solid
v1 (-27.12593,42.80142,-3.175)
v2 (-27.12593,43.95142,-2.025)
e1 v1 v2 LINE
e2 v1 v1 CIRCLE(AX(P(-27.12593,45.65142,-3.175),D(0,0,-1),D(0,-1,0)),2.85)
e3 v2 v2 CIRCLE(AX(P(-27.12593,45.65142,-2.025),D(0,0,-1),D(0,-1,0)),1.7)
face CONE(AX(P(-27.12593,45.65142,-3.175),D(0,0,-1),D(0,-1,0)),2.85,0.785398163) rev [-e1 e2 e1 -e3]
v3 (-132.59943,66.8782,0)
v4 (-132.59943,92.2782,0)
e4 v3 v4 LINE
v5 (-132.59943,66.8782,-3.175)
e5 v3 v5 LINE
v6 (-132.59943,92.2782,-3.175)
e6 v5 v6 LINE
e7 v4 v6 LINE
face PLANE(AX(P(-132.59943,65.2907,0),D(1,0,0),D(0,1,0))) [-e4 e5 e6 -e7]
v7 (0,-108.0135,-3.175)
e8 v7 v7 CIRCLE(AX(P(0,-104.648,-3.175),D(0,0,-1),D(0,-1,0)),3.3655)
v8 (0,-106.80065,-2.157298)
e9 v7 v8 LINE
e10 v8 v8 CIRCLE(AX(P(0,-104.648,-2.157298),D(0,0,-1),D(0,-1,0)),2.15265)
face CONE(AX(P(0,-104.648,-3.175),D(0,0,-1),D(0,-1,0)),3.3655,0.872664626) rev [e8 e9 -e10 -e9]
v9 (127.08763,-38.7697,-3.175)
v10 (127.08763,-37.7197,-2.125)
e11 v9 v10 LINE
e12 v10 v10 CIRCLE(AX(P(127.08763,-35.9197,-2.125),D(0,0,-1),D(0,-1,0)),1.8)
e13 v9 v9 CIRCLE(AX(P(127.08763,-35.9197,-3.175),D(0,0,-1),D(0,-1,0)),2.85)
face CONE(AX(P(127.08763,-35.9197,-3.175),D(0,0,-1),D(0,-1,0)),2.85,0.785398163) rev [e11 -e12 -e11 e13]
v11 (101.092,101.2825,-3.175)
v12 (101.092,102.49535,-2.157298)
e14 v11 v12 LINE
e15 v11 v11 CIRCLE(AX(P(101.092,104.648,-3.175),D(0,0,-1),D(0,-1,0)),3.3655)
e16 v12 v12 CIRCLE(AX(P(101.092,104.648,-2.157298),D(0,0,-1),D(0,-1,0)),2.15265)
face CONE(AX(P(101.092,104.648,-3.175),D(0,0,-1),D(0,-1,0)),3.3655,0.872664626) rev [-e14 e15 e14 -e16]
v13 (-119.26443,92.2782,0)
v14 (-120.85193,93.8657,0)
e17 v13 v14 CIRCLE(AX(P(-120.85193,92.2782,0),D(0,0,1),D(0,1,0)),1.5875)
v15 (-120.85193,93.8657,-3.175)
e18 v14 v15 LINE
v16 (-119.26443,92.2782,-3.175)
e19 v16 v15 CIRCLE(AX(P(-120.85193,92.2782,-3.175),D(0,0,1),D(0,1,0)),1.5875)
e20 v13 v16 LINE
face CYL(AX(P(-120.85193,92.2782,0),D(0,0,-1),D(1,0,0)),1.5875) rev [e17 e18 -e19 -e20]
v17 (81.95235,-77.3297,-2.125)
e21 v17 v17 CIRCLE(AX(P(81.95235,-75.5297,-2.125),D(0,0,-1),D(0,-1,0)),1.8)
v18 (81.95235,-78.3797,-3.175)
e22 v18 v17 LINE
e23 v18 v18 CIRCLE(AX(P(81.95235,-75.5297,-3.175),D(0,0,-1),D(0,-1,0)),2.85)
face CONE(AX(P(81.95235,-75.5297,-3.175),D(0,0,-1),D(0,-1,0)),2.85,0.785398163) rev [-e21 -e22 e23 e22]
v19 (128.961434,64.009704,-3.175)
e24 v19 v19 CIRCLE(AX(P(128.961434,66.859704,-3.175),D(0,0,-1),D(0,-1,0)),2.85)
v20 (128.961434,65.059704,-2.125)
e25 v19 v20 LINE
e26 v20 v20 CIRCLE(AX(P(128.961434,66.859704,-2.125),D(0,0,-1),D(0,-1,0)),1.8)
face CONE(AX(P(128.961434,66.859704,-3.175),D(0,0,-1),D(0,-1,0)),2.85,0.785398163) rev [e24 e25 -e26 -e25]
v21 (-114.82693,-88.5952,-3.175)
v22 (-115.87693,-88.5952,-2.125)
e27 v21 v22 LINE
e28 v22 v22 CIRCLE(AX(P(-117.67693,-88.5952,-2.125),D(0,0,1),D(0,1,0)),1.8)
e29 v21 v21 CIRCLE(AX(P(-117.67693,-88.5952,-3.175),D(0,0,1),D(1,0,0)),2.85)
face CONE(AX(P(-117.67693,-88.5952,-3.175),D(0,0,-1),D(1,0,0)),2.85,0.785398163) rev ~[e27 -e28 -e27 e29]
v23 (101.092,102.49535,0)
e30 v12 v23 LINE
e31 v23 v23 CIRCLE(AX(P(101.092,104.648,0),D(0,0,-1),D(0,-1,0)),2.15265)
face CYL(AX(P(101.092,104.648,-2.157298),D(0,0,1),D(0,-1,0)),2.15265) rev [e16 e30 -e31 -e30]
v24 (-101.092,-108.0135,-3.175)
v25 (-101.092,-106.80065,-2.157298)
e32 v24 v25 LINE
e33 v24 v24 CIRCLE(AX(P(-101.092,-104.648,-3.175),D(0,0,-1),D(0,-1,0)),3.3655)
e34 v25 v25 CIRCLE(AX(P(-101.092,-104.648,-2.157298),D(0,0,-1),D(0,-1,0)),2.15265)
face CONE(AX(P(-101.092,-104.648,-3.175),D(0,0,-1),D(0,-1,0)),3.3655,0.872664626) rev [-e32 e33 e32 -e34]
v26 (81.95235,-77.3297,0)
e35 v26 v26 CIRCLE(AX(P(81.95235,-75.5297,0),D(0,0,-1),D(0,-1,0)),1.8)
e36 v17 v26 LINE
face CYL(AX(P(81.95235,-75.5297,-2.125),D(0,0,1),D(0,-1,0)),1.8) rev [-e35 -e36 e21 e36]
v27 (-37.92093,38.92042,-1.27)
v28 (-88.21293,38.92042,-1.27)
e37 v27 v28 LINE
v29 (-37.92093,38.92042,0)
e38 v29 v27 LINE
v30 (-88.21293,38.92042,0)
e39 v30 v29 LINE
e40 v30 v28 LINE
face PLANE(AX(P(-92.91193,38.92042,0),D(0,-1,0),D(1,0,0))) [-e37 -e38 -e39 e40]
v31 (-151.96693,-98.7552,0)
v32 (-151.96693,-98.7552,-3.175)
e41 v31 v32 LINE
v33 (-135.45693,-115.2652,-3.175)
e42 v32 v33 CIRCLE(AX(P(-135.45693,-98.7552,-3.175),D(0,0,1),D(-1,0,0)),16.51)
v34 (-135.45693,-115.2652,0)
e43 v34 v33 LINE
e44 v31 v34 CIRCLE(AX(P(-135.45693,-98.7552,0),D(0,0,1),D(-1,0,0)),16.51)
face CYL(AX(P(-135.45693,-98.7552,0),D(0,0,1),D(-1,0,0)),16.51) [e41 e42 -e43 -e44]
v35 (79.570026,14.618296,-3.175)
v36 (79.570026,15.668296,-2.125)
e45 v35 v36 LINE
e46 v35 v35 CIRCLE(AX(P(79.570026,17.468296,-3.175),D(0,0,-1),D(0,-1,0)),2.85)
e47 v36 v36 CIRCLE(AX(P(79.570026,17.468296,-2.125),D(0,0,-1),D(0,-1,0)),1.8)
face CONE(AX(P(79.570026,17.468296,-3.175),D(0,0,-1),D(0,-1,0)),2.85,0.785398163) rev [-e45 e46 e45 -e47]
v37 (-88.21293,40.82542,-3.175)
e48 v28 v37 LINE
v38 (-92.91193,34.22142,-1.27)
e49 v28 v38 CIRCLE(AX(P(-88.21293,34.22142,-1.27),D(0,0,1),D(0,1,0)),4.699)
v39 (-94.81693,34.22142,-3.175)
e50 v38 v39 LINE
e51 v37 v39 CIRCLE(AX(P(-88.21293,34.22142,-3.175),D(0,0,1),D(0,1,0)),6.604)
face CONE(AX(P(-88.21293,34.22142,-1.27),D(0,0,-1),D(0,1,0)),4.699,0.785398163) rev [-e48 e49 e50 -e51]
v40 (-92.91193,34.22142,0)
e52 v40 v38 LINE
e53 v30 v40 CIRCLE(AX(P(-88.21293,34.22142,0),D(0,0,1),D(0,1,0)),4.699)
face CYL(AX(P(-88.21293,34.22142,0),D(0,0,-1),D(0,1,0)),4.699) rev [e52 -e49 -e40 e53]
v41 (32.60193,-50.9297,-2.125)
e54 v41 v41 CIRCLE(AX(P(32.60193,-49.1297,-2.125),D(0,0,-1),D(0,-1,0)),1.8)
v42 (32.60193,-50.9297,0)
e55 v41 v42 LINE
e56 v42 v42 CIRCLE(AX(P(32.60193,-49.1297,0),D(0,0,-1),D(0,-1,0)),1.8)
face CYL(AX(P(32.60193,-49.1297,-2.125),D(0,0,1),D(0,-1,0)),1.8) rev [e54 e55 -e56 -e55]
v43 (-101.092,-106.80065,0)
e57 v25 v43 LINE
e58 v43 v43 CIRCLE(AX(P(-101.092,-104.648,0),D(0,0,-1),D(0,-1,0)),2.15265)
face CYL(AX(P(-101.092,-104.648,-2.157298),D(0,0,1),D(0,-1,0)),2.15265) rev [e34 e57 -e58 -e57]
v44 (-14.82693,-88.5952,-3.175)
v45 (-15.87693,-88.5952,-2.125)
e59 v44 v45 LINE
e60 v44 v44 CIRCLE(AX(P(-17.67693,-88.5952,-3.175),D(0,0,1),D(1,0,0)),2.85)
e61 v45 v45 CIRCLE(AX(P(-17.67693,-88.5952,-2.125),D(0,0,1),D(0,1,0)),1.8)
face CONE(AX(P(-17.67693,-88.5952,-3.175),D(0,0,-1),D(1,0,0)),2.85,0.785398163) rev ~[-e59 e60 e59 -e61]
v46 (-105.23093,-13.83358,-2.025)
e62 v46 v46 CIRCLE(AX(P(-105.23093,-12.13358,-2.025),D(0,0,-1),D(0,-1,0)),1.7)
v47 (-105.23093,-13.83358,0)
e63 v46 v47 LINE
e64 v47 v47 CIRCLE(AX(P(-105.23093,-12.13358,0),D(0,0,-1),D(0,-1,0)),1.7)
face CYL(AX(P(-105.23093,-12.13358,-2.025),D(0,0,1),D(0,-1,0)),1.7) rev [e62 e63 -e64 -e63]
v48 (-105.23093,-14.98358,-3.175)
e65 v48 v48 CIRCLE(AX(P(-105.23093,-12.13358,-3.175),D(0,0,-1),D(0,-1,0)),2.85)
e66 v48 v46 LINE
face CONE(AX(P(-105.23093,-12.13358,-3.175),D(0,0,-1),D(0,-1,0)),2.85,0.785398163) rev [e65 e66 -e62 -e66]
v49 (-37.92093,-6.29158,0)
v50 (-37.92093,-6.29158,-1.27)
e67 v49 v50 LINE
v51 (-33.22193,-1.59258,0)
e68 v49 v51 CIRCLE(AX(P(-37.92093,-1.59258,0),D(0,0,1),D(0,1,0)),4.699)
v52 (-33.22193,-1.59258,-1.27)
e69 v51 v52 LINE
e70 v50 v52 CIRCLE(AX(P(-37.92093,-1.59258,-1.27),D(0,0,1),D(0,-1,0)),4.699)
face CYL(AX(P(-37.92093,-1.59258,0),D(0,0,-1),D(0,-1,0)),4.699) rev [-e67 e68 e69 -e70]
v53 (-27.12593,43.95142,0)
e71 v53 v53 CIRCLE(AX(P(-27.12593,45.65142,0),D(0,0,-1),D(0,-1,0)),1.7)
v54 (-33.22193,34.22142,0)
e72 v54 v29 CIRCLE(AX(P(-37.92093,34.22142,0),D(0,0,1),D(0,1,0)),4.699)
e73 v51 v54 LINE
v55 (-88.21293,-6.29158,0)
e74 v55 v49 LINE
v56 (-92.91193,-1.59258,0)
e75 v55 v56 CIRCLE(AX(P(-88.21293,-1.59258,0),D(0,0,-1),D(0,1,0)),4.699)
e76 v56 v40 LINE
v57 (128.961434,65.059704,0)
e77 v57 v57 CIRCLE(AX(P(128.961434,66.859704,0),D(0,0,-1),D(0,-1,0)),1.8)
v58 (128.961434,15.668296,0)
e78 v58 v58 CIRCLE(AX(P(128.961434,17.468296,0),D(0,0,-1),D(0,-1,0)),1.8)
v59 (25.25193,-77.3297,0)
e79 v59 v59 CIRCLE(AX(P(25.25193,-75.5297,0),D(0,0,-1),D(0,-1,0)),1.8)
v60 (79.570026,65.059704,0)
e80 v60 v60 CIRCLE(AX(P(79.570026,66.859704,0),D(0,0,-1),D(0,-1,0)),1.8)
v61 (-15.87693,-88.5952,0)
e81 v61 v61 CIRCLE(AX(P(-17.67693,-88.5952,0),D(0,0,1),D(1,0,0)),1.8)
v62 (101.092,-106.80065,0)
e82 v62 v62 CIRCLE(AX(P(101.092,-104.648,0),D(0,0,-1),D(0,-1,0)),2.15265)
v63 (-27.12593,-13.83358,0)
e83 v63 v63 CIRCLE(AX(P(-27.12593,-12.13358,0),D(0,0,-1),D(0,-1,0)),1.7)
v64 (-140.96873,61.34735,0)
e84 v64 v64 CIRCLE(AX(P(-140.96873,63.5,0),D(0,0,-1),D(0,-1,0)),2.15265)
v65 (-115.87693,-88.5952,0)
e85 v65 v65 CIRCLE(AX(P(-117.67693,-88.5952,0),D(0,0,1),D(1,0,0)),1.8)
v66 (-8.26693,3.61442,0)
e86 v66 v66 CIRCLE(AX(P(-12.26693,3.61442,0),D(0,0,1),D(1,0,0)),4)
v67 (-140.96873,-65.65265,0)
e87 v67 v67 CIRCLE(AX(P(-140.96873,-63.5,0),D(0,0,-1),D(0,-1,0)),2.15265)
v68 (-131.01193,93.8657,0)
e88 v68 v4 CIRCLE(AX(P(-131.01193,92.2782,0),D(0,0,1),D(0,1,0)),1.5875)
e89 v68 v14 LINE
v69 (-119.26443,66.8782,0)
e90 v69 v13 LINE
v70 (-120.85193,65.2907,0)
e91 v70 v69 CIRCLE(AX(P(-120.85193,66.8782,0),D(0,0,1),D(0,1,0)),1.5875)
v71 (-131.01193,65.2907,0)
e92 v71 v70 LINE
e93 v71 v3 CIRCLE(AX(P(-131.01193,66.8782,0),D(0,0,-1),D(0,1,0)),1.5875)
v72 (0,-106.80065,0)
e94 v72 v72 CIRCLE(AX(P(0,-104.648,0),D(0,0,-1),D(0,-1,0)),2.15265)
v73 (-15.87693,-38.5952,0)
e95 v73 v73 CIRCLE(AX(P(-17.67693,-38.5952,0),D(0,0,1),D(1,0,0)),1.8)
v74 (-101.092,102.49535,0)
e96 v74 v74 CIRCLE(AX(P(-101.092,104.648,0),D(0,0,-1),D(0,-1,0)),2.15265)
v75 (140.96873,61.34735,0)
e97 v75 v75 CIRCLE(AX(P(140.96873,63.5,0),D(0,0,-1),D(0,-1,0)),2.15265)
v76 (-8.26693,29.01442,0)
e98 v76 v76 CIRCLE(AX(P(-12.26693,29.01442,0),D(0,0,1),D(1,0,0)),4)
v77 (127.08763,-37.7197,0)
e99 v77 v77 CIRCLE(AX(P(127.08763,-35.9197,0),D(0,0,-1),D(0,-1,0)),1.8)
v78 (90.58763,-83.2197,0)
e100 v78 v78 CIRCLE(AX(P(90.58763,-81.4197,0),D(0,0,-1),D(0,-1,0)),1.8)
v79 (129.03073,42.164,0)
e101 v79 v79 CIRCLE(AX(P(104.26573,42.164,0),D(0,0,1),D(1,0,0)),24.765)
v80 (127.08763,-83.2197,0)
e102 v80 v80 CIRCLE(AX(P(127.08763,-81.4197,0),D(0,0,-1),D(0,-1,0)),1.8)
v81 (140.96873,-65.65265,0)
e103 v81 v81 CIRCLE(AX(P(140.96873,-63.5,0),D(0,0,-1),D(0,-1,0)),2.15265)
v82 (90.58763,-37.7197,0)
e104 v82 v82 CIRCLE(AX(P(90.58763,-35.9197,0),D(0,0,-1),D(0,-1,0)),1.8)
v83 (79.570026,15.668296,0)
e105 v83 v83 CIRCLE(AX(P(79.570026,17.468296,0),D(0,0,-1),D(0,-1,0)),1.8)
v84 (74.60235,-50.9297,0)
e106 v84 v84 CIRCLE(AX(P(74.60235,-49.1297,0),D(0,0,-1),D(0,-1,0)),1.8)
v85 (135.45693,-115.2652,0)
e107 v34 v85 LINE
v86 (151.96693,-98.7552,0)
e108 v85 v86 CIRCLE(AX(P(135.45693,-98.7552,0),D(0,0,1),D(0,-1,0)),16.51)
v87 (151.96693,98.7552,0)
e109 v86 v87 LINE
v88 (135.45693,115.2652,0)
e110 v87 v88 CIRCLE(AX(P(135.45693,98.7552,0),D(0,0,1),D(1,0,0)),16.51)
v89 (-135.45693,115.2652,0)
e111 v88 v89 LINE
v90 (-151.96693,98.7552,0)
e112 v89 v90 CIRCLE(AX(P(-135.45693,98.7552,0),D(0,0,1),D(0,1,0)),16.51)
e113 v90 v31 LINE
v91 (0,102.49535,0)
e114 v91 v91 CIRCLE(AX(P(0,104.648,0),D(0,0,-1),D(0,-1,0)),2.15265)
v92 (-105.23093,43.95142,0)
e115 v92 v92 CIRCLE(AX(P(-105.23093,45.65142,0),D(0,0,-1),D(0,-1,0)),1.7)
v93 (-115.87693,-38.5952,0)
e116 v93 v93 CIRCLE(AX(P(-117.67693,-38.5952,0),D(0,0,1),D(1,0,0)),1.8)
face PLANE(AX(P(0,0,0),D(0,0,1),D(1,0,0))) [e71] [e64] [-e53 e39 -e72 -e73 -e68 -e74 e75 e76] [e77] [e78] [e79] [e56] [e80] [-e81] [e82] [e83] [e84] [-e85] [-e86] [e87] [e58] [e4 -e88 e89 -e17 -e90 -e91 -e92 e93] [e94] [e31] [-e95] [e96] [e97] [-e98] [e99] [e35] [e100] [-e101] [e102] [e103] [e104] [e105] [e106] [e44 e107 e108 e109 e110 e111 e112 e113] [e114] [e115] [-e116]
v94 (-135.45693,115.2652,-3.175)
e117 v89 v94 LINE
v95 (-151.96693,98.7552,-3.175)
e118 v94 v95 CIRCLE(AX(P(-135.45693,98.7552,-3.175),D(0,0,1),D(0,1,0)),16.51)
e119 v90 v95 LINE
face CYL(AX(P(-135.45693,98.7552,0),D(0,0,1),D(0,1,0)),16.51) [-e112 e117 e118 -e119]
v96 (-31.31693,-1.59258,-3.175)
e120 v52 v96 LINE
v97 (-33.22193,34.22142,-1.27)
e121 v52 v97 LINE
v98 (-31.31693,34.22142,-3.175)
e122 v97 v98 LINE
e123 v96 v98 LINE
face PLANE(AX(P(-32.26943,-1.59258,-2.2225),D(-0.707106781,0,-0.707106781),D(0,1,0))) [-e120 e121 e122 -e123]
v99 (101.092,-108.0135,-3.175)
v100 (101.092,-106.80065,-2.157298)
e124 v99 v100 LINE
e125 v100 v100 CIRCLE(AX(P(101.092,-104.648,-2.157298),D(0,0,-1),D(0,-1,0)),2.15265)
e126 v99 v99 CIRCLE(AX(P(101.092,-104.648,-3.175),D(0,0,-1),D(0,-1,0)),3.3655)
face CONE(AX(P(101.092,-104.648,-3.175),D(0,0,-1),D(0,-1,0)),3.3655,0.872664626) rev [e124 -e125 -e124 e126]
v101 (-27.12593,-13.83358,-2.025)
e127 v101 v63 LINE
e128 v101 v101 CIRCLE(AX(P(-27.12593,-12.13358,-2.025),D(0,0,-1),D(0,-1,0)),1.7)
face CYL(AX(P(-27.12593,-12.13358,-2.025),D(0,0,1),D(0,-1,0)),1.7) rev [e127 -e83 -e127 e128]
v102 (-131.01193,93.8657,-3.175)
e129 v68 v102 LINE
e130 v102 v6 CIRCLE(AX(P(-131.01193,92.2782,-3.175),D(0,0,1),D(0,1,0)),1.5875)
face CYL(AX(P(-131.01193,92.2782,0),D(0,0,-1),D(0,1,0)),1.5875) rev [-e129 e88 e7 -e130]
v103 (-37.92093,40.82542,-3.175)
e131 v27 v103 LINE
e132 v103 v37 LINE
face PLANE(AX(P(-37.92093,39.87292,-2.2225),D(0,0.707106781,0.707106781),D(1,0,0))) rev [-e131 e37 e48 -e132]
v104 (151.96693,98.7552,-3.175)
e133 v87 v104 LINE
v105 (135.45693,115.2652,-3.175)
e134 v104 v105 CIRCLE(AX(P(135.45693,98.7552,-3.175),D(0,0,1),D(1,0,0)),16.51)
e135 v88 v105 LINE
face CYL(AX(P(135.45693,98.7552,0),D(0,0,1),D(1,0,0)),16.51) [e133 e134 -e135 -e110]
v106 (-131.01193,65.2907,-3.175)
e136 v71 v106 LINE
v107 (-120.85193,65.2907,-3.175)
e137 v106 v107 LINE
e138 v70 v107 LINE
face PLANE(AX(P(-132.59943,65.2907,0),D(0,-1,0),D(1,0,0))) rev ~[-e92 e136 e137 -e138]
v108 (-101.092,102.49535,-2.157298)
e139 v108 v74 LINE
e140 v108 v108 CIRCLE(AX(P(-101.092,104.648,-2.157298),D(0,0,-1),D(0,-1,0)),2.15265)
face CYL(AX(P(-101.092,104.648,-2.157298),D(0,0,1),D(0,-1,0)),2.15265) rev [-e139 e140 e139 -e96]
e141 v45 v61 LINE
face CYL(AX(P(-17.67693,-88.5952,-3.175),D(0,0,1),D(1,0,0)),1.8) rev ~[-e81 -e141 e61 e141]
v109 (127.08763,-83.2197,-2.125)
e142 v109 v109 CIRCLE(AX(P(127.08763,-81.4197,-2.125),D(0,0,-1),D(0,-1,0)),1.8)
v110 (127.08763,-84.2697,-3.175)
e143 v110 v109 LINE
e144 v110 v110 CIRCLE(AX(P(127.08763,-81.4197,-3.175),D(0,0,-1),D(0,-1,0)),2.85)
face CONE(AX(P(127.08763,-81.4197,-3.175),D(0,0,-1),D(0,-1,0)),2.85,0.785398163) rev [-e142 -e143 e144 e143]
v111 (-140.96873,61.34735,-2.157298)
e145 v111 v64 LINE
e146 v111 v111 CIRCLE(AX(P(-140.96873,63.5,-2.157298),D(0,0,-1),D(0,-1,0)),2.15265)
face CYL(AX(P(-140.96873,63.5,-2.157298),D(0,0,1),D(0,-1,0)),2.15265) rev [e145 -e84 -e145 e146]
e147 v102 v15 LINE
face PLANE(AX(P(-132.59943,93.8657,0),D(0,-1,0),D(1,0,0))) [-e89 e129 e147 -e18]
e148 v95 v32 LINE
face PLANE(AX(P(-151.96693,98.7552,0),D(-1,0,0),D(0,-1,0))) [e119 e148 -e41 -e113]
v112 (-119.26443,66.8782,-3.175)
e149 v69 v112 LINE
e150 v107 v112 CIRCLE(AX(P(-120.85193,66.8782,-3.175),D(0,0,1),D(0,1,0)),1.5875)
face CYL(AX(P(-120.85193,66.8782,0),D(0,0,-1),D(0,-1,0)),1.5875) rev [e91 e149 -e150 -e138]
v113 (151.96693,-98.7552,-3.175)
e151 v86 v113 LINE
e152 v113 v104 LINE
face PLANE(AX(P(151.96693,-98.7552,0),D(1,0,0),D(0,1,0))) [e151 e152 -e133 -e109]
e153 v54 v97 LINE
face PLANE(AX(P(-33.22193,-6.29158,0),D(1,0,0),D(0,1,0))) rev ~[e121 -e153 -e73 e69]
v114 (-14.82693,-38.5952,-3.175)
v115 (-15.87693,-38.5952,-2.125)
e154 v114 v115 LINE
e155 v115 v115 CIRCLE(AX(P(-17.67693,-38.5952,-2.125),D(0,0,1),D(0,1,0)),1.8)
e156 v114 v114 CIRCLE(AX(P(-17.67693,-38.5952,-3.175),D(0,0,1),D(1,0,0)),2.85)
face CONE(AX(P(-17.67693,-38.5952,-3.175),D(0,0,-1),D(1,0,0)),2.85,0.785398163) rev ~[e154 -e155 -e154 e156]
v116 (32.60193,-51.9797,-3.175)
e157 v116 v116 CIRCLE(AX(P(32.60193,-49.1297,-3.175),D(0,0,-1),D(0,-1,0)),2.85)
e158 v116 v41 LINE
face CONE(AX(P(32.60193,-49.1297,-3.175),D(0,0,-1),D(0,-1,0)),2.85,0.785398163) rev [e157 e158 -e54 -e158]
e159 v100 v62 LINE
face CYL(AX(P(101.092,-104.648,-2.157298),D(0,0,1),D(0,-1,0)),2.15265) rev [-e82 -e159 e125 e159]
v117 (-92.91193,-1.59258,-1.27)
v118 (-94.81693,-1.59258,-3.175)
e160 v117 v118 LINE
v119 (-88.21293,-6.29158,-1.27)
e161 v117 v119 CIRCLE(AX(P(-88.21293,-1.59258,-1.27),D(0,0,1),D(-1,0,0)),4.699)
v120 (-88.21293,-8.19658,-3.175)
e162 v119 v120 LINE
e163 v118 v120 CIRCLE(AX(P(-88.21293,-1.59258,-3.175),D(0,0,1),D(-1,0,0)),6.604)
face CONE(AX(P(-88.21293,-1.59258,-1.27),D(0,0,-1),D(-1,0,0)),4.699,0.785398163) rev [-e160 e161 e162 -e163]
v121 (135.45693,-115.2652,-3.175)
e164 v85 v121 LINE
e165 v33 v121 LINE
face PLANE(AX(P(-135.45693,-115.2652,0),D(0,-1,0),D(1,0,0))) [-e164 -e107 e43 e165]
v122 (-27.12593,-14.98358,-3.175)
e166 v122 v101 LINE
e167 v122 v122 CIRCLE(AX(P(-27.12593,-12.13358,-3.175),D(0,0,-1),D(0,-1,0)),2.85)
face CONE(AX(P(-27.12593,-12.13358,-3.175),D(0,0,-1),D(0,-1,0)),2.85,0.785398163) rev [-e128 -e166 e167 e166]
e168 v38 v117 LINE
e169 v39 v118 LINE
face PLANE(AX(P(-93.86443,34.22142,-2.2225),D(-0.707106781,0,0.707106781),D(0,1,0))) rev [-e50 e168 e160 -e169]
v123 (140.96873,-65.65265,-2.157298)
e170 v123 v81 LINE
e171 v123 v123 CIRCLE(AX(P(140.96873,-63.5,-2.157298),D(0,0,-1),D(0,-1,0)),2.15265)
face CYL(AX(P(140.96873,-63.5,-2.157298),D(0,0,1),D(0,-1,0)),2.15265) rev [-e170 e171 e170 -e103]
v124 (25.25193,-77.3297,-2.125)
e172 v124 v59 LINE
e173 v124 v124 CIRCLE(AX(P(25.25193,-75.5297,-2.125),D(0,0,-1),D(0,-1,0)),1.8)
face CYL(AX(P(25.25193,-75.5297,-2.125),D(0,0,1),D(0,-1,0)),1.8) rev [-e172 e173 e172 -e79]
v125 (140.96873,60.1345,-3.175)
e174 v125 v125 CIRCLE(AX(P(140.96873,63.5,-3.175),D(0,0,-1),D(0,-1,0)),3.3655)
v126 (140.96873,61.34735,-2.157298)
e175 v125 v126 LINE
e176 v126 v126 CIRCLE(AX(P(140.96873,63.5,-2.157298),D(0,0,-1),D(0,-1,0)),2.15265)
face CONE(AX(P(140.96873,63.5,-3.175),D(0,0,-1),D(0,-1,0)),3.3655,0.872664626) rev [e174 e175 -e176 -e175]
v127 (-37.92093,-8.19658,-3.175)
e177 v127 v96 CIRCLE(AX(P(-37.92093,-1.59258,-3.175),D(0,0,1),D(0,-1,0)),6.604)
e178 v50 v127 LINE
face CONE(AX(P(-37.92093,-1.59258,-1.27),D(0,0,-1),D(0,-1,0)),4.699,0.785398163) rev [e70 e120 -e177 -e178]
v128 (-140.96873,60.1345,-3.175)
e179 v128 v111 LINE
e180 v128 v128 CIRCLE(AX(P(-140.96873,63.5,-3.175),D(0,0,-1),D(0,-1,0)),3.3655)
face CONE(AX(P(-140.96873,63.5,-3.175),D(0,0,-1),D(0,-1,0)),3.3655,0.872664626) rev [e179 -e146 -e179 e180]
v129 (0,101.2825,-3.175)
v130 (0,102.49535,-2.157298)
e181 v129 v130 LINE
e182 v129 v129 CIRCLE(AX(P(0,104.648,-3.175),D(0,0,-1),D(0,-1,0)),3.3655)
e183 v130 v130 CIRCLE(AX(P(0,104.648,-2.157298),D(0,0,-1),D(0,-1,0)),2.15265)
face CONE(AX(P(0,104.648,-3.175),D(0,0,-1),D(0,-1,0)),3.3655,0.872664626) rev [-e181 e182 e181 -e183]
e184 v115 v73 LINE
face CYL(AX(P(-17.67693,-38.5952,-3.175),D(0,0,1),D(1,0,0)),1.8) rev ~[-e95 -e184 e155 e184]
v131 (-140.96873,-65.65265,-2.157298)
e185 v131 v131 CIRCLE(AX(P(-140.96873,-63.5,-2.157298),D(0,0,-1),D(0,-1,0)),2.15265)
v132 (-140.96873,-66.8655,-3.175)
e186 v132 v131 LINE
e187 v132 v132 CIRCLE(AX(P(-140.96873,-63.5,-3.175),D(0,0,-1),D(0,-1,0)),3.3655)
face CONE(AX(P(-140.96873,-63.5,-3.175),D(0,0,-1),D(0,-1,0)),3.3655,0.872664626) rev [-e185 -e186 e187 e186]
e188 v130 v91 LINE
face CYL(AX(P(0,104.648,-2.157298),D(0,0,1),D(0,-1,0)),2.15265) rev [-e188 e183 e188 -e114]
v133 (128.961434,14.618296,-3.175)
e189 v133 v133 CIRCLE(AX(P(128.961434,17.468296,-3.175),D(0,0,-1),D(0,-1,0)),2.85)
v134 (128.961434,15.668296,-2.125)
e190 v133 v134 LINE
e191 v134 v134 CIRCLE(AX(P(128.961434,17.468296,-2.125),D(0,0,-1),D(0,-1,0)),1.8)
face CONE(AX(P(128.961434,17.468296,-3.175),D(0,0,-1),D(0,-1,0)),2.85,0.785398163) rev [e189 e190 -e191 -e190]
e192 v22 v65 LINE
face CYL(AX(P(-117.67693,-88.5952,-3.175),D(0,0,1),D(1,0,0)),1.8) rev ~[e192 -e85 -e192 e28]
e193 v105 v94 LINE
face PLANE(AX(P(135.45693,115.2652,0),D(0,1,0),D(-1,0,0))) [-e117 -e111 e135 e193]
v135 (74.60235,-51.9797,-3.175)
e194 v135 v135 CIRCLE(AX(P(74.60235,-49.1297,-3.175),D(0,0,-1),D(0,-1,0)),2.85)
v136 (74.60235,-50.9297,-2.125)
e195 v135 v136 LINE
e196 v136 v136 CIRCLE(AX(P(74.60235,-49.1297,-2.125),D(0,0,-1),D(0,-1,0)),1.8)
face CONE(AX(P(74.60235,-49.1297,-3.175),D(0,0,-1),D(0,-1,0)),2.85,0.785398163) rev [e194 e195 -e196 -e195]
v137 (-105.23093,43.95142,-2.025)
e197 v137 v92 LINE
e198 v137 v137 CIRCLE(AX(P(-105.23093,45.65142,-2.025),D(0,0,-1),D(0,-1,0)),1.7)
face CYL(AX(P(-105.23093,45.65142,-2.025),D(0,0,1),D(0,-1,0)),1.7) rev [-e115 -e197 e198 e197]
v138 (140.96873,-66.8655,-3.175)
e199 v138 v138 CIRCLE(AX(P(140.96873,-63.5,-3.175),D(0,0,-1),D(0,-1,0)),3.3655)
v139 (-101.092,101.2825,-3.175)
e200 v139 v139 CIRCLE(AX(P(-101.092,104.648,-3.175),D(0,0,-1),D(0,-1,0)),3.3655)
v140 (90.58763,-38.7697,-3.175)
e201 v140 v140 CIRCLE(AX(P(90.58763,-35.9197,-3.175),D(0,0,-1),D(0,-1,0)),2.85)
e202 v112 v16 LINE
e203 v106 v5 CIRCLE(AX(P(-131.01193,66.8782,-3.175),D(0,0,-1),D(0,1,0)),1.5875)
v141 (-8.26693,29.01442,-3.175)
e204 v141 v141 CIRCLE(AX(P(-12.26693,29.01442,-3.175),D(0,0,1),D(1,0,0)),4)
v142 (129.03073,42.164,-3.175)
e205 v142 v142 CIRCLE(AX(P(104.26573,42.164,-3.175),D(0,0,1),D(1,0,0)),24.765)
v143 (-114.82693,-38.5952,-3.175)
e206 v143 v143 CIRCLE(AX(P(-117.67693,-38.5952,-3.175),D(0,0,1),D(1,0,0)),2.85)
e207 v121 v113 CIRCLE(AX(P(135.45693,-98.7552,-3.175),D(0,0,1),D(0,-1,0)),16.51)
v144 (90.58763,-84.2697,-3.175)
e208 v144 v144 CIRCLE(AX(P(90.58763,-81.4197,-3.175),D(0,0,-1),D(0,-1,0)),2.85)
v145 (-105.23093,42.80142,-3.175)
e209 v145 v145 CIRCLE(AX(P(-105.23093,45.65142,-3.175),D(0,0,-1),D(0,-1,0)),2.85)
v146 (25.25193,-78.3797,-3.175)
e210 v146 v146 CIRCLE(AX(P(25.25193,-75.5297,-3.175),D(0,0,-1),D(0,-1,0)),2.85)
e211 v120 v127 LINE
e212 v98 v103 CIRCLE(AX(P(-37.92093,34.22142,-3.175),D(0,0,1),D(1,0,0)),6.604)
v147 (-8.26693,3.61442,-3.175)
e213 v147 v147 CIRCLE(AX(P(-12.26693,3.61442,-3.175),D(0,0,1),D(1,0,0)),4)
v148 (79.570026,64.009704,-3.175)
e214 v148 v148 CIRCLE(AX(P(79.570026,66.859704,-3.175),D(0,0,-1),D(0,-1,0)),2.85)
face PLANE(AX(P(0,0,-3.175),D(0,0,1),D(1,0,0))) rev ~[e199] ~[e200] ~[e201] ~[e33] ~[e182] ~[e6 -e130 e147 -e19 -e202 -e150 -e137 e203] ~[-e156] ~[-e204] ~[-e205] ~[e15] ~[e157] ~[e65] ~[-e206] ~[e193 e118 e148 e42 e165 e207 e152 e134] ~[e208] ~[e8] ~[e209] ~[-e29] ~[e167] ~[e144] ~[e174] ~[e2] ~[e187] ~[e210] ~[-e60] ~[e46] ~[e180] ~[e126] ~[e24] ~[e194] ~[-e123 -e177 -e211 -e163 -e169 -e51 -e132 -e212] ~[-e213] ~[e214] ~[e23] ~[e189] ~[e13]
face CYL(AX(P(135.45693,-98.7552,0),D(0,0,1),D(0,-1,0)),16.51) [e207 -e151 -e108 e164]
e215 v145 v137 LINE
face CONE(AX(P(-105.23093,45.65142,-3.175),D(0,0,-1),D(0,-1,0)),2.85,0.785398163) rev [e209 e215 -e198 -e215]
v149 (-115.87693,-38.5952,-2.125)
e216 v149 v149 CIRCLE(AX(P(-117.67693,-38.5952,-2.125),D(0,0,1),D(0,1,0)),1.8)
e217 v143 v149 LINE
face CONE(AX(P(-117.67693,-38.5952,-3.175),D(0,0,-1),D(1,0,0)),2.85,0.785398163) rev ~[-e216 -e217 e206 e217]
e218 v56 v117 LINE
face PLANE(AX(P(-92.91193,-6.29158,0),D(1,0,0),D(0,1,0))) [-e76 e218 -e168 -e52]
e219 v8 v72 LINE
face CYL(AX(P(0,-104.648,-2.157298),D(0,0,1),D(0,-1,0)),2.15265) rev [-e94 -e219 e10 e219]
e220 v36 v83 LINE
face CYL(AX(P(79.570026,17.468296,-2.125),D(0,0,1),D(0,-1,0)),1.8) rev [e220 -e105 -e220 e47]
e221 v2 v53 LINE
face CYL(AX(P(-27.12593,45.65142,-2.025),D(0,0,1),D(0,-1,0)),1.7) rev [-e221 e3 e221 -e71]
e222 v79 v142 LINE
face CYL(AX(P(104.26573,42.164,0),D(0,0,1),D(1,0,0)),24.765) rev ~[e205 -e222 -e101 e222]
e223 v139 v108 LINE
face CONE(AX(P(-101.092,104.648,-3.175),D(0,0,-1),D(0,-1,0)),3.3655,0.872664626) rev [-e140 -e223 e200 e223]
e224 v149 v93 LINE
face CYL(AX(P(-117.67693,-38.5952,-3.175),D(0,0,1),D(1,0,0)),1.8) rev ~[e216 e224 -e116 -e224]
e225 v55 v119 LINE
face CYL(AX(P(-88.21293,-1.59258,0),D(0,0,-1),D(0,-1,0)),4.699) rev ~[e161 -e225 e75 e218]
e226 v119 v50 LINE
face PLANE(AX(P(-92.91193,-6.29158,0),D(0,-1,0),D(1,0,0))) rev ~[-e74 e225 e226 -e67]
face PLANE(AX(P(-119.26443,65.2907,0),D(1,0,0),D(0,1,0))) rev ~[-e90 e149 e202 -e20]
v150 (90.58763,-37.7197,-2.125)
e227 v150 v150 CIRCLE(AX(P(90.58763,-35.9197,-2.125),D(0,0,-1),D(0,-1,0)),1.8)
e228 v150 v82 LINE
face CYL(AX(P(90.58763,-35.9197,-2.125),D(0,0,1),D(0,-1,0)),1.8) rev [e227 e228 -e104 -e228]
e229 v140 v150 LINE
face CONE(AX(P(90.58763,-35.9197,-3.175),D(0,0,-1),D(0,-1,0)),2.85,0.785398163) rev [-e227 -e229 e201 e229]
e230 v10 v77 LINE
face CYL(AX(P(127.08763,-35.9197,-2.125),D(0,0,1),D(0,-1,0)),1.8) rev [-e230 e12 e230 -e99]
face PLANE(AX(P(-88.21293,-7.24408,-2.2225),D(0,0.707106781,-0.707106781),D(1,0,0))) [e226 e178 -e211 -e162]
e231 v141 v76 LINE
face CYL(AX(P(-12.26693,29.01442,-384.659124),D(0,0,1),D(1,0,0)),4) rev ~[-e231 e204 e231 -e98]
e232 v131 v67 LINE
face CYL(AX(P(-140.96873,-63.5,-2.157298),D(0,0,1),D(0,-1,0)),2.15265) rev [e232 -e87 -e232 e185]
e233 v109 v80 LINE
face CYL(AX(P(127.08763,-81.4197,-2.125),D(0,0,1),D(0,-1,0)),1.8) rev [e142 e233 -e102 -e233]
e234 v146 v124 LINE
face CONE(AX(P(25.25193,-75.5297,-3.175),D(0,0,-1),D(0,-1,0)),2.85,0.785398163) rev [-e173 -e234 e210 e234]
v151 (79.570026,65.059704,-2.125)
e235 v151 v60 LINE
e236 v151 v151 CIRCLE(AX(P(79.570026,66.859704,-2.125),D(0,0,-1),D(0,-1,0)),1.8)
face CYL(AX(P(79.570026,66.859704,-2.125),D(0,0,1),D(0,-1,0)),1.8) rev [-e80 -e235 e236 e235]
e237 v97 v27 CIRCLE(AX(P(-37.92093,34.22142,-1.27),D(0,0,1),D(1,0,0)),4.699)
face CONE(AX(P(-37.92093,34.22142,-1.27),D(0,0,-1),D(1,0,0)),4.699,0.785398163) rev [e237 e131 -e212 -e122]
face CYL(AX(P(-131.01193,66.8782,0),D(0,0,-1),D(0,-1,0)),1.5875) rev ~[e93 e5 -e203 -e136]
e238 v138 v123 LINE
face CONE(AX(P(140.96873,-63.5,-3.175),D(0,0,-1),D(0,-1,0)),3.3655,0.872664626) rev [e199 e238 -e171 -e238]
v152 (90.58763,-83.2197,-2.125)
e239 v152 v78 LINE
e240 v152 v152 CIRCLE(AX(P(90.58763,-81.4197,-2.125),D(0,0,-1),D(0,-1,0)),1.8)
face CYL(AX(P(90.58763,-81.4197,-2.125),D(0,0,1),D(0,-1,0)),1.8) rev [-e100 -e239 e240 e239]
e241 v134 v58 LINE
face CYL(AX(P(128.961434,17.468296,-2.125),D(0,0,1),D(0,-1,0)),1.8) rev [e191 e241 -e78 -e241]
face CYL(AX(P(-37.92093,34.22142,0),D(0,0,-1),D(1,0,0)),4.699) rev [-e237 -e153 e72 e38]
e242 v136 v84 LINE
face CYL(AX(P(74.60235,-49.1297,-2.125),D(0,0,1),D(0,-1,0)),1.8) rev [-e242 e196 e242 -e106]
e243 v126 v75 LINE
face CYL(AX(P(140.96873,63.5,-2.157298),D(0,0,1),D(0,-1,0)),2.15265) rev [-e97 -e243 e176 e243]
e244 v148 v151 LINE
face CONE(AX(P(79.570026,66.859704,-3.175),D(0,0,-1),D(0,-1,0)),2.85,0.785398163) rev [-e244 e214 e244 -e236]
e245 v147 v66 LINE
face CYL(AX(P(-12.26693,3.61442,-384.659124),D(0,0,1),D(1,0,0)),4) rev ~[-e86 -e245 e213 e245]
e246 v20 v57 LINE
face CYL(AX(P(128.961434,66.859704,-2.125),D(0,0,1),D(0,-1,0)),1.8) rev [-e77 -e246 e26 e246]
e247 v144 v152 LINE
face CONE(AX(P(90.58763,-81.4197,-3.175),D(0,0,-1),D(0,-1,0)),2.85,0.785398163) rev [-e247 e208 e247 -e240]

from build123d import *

# Parameters (mm, degrees)
BOSS_EXTRUDE1_DEPTH             = 3.175
F_6_CLEARANCE_HOLE1_AT_2_COUNT  = 2
F_6_CLEARANCE_HOLE1_AT_2_PITCH  = 202.184
F_6_CLEARANCE_HOLE1_AT_3_COUNT  = 2
F_6_CLEARANCE_HOLE1_AT_3_PITCH  = 245.533205315
F_6_CLEARANCE_HOLE1_AT_4_COUNT  = 2
F_6_CLEARANCE_HOLE1_AT_4_PITCH  = 294.732330958
F_6_CLEARANCE_HOLE1_AT_5_COUNT  = 2
F_6_CLEARANCE_HOLE1_AT_5_PITCH  = 209.296
F_6_CLEARANCE_HOLE1_AT_6_COUNT  = 2
F_6_CLEARANCE_HOLE1_AT_6_PITCH  = 172.811757411
F_6_CLEARANCE_HOLE1_AT_7_COUNT  = 2
F_6_CLEARANCE_HOLE1_AT_7_PITCH  = 57.300187604
F_6_CLEARANCE_HOLE1_AT_8_COUNT  = 2
F_6_CLEARANCE_HOLE1_AT_8_PITCH  = 291.003755082
F_6_CLEARANCE_HOLE1_AT_9_COUNT  = 2
F_6_CLEARANCE_HOLE1_AT_9_PITCH  = 232.431512666
F_6_CLEARANCE_HOLE1_AT_10_COUNT = 2
F_6_CLEARANCE_HOLE1_AT_10_PITCH = 101.092
SKETCH23_R                      = 24.765
CUT_EXTRUDE10_DEPTH             = 191.76187976
SKETCH24_W                      = 59.69
SKETCH24_H                      = 45.212
CUT_EXTRUDE11_DEPTH             = 191.76187976
FILLET2_R                       = 4.699
CHAMFER1_SIZE                   = 1.905
M3_CLEARANCE_HOLE3_AT_2_COUNT   = 2
M3_CLEARANCE_HOLE3_AT_2_PITCH   = 49.391408666
M3_CLEARANCE_HOLE3_AT_3_COUNT   = 2
M3_CLEARANCE_HOLE3_AT_3_PITCH   = 69.85
M3_CLEARANCE_HOLE3_AT_4_COUNT   = 2
M3_CLEARANCE_HOLE3_AT_4_PITCH   = 49.391408666
M3_CLEARANCE_HOLE1_D            = 3.6
M3_CLEARANCE_HOLE1_CSINK_D      = 5.7
M3_CLEARANCE_HOLE1_CSINK_ANGLE  = 90
M3_CLEARANCE_HOLE2_AT_2_COUNT   = 2
M3_CLEARANCE_HOLE2_AT_2_PITCH   = 56.70042
M3_CLEARANCE_HOLE2_AT_3_COUNT   = 2
M3_CLEARANCE_HOLE2_AT_3_PITCH   = 102.00589147
M3_CLEARANCE_HOLE2_AT_4_COUNT   = 2
M3_CLEARANCE_HOLE2_AT_4_PITCH   = 109.267844742
M3_CLEARANCE_HOLE2_AT_5_COUNT   = 2
M3_CLEARANCE_HOLE2_AT_5_PITCH   = 65.600653918
M3_CLEARANCE_HOLE2_AT_6_COUNT   = 2
M3_CLEARANCE_HOLE2_AT_6_PITCH   = 76.404880698
M3_CLEARANCE_HOLE2_AT_7_COUNT   = 2
M3_CLEARANCE_HOLE2_AT_7_PITCH   = 27.404059918
M3_CLEARANCE_HOLE2_AT_8_COUNT   = 2
M3_CLEARANCE_HOLE2_AT_8_PITCH   = 55.968061912
SKETCH35_W                      = 13.335
SKETCH35_H                      = 28.575
CUT_EXTRUDE12_DEPTH             = 191.76187976
FILLET1_R                       = 1.5875
F_8_0MM_DOWEL_HOLE1_D           = 8
M3_CLEARANCE_HOLE4_AT_2_COUNT   = 2
M3_CLEARANCE_HOLE4_AT_2_PITCH   = 78.105
M3_CLEARANCE_HOLE4_AT_3_COUNT   = 2
M3_CLEARANCE_HOLE4_AT_3_PITCH   = 97.157075141
M3_CLEARANCE_HOLE4_AT_4_COUNT   = 2
M3_CLEARANCE_HOLE4_AT_4_PITCH   = 57.785


with BuildPart() as part:
    # Sketch1 → Boss-Extrude1 (new body)
    with BuildSketch(Plane.XY):
        with BuildLine():
            Line((-151.96693, 98.7552), (-151.96693, -98.7552))
            ThreePointArc((-151.96693, -98.7552), (-147.131262957, -110.429532957), (-135.45693, -115.2652))
            Line((-135.45693, -115.2652), (135.45693, -115.2652))
            ThreePointArc((135.45693, -115.2652), (147.131262957, -110.429532957), (151.96693, -98.7552))
            Line((151.96693, -98.7552), (151.96693, 98.7552))
            ThreePointArc((151.96693, 98.7552), (147.131262957, 110.429532957), (135.45693, 115.2652))
            Line((135.45693, 115.2652), (-135.45693, 115.2652))
            ThreePointArc((-135.45693, 115.2652), (-147.131262957, 110.429532957), (-151.96693, 98.7552))
        make_face()
    extrude(amount=-BOSS_EXTRUDE1_DEPTH)

    # Sketch3 → #6 Clearance Hole1 (revolve, cut)
    with BuildSketch(Plane(origin=(101.092, 104.648, 0), x_dir=(0, -1, 0), z_dir=(1, 0, 0))):
        Polygon((0, 0), (0, 3.175), (3.3655, 3.175), (2.15265, 2.157298012), (2.15265, 0), align=None)
    f_6_clearance_hole1 = revolve(axis=Axis((101.092, 104.648, 6.35), (0, 0, -1)), mode=Mode.SUBTRACT)

    # #6 Clearance Hole1 at 2: #6 Clearance Hole1 ×2
    with Locations(*[(-i * F_6_CLEARANCE_HOLE1_AT_2_PITCH, 0, 0) for i in range(1, F_6_CLEARANCE_HOLE1_AT_2_COUNT)]):
        add(f_6_clearance_hole1, mode=Mode.SUBTRACT)

    # #6 Clearance Hole1 at 3: #6 Clearance Hole1 ×2
    with Locations(*[Vector(-0.9858574105677721, -0.1675862942743448, 0) * (i * F_6_CLEARANCE_HOLE1_AT_3_PITCH) for i in range(1, F_6_CLEARANCE_HOLE1_AT_3_COUNT)]):
        add(f_6_clearance_hole1, mode=Mode.SUBTRACT)

    # #6 Clearance Hole1 at 4: #6 Clearance Hole1 ×2
    with Locations(*[Vector(-0.8212900471859665, -0.5705108749123656, 0) * (i * F_6_CLEARANCE_HOLE1_AT_4_PITCH) for i in range(1, F_6_CLEARANCE_HOLE1_AT_4_COUNT)]):
        add(f_6_clearance_hole1, mode=Mode.SUBTRACT)

    # #6 Clearance Hole1 at 5: #6 Clearance Hole1 ×2
    with Locations(*[(0, -i * F_6_CLEARANCE_HOLE1_AT_5_PITCH, 0) for i in range(1, F_6_CLEARANCE_HOLE1_AT_5_COUNT)]):
        add(f_6_clearance_hole1, mode=Mode.SUBTRACT)

    # #6 Clearance Hole1 at 6: #6 Clearance Hole1 ×2
    with Locations(*[Vector(0.23075241289949347, -0.9730124993755537, 0) * (i * F_6_CLEARANCE_HOLE1_AT_6_PITCH) for i in range(1, F_6_CLEARANCE_HOLE1_AT_6_COUNT)]):
        add(f_6_clearance_hole1, mode=Mode.SUBTRACT)

    # #6 Clearance Hole1 at 7: #6 Clearance Hole1 ×2
    with Locations(*[Vector(0.6959266918172804, -0.7181128320927402, 0) * (i * F_6_CLEARANCE_HOLE1_AT_7_PITCH) for i in range(1, F_6_CLEARANCE_HOLE1_AT_7_COUNT)]):
        add(f_6_clearance_hole1, mode=Mode.SUBTRACT)

    # #6 Clearance Hole1 at 8: #6 Clearance Hole1 ×2
    with Locations(*[Vector(-0.6947814125038304, -0.719220959677332, 0) * (i * F_6_CLEARANCE_HOLE1_AT_8_PITCH) for i in range(1, F_6_CLEARANCE_HOLE1_AT_8_COUNT)]):
        add(f_6_clearance_hole1, mode=Mode.SUBTRACT)

    # #6 Clearance Hole1 at 9: #6 Clearance Hole1 ×2
    with Locations(*[Vector(-0.4349324187613887, -0.9004630981391565, 0) * (i * F_6_CLEARANCE_HOLE1_AT_9_PITCH) for i in range(1, F_6_CLEARANCE_HOLE1_AT_9_COUNT)]):
        add(f_6_clearance_hole1, mode=Mode.SUBTRACT)

    # #6 Clearance Hole1 at 10: #6 Clearance Hole1 ×2
    with Locations(*[(-i * F_6_CLEARANCE_HOLE1_AT_10_PITCH, 0, 0) for i in range(1, F_6_CLEARANCE_HOLE1_AT_10_COUNT)]):
        add(f_6_clearance_hole1, mode=Mode.SUBTRACT)

    # Sketch23 → Cut-Extrude10 (cut, through all)
    with BuildSketch(Plane.XY):
        with Locations((104.26573, 42.164)):
            Circle(SKETCH23_R)
    extrude(amount=-CUT_EXTRUDE10_DEPTH, mode=Mode.SUBTRACT)

    # Sketch24 → Cut-Extrude11 (cut, through all)
    with BuildSketch(Plane.XY):
        with Locations((-63.06693, 16.31442)):
            Rectangle(SKETCH24_W, SKETCH24_H)
    extrude(amount=-CUT_EXTRUDE11_DEPTH, mode=Mode.SUBTRACT)

    # Fillet2
    fillet2_edges = [part.edges().sort_by_distance(p)[0] for p in [
        (-92.91193, -6.29158, -1.5875),
        (-92.91193, 38.92042, -1.5875),
        (-33.22193, 38.92042, -1.5875),
        (-33.22193, -6.29158, -1.5875),
    ]]
    fillet(fillet2_edges, radius=FILLET2_R)

    # Chamfer1
    chamfer1_edges = [part.edges().sort_by_distance(p)[0] for p in [
        (-33.22193, 16.31442, -3.175),
        (-63.06693, -6.29158, -3.175),
        (-92.91193, 16.31442, -3.175),
        (-63.06693, 38.92042, -3.175),
        (-34.598235235, -4.915274765, -3.175),
        (-91.535624765, -4.915274765, -3.175),
        (-91.535624765, 37.544114765, -3.175),
        (-34.598235235, 37.544114765, -3.175),
    ]]
    chamfer(chamfer1_edges, length=CHAMFER1_SIZE)

    # Sketch30 → M3 Clearance Hole3 (revolve, cut)
    with BuildSketch(Plane(origin=(79.570025667, 66.859704333, 0), x_dir=(0, -1, 0), z_dir=(1, 0, 0))):
        Polygon((0, 0), (0, 3.175), (2.85, 3.175), (1.8, 2.125), (1.8, 0), align=None)
    m3_clearance_hole3 = revolve(axis=Axis((79.570025667, 66.859704333, 6.35), (0, 0, -1)), mode=Mode.SUBTRACT)

    # M3 Clearance Hole3 at 2: M3 Clearance Hole3 ×2
    with Locations(*[(i * M3_CLEARANCE_HOLE3_AT_2_PITCH, 0, 0) for i in range(1, M3_CLEARANCE_HOLE3_AT_2_COUNT)]):
        add(m3_clearance_hole3, mode=Mode.SUBTRACT)

    # M3 Clearance Hole3 at 3: M3 Clearance Hole3 ×2
    with Locations(*[Vector(0.7071067811865477, -0.7071067811865475, 0) * (i * M3_CLEARANCE_HOLE3_AT_3_PITCH) for i in range(1, M3_CLEARANCE_HOLE3_AT_3_COUNT)]):
        add(m3_clearance_hole3, mode=Mode.SUBTRACT)

    # M3 Clearance Hole3 at 4: M3 Clearance Hole3 ×2
    with Locations(*[(0, -i * M3_CLEARANCE_HOLE3_AT_4_PITCH, 0) for i in range(1, M3_CLEARANCE_HOLE3_AT_4_COUNT)]):
        add(m3_clearance_hole3, mode=Mode.SUBTRACT)

    # M3 Clearance Hole1 (through all)
    with Locations(Plane(origin=(0, 0, -3.175), x_dir=(-1, 0, 0), z_dir=(0, 0, -1))):
        with Locations((17.67693, -38.5952), (117.67693, -38.5952), (117.67693, -88.5952), (17.67693, -88.5952)):
            CounterSinkHole(M3_CLEARANCE_HOLE1_D / 2, M3_CLEARANCE_HOLE1_CSINK_D / 2, counter_sink_angle=M3_CLEARANCE_HOLE1_CSINK_ANGLE)

    # Sketch34 → M3 Clearance Hole2 (revolve, cut)
    with BuildSketch(Plane(origin=(25.25193, -75.5297, 0), x_dir=(0, -1, 0), z_dir=(1, 0, 0))):
        Polygon((0, 0), (0, 3.175), (2.85, 3.175), (1.8, 2.125), (1.8, 0), align=None)
    m3_clearance_hole2 = revolve(axis=Axis((25.25193, -75.5297, 6.35), (0, 0, -1)), mode=Mode.SUBTRACT)

    # M3 Clearance Hole2 at 2: M3 Clearance Hole2 ×2
    with Locations(*[(i * M3_CLEARANCE_HOLE2_AT_2_PITCH, 0, 0) for i in range(1, M3_CLEARANCE_HOLE2_AT_2_COUNT)]):
        add(m3_clearance_hole2, mode=Mode.SUBTRACT)

    # M3 Clearance Hole2 at 3: M3 Clearance Hole2 ×2
    with Locations(*[Vector(0.9983315525499471, -0.05774176290357108, 0) * (i * M3_CLEARANCE_HOLE2_AT_3_PITCH) for i in range(1, M3_CLEARANCE_HOLE2_AT_3_COUNT)]):
        add(m3_clearance_hole2, mode=Mode.SUBTRACT)

    # M3 Clearance Hole2 at 4: M3 Clearance Hole2 ×2
    with Locations(*[Vector(0.9319823250907686, 0.36250371821321364, 0) * (i * M3_CLEARANCE_HOLE2_AT_4_PITCH) for i in range(1, M3_CLEARANCE_HOLE2_AT_4_COUNT)]):
        add(m3_clearance_hole2, mode=Mode.SUBTRACT)

    # M3 Clearance Hole2 at 5: M3 Clearance Hole2 ×2
    with Locations(*[Vector(0.9959611085814934, -0.089785690358334, 0) * (i * M3_CLEARANCE_HOLE2_AT_5_PITCH) for i in range(1, M3_CLEARANCE_HOLE2_AT_5_COUNT)]):
        add(m3_clearance_hole2, mode=Mode.SUBTRACT)

    # M3 Clearance Hole2 at 6: M3 Clearance Hole2 ×2
    with Locations(*[Vector(0.8551246910281444, 0.5184223787550272, 0) * (i * M3_CLEARANCE_HOLE2_AT_6_PITCH) for i in range(1, M3_CLEARANCE_HOLE2_AT_6_COUNT)]):
        add(m3_clearance_hole2, mode=Mode.SUBTRACT)

    # M3 Clearance Hole2 at 7: M3 Clearance Hole2 ×2
    with Locations(*[Vector(0.2682084341495708, 0.9633609063331537, 0) * (i * M3_CLEARANCE_HOLE2_AT_7_PITCH) for i in range(1, M3_CLEARANCE_HOLE2_AT_7_COUNT)]):
        add(m3_clearance_hole2, mode=Mode.SUBTRACT)

    # M3 Clearance Hole2 at 8: M3 Clearance Hole2 ×2
    with Locations(*[Vector(0.8817603882311722, 0.47169759141468215, 0) * (i * M3_CLEARANCE_HOLE2_AT_8_PITCH) for i in range(1, M3_CLEARANCE_HOLE2_AT_8_COUNT)]):
        add(m3_clearance_hole2, mode=Mode.SUBTRACT)

    # Sketch35 → Cut-Extrude12 (cut, through all)
    with BuildSketch(Plane.XY):
        with Locations((-125.93193, 79.5782)):
            Rectangle(SKETCH35_W, SKETCH35_H)
    extrude(amount=-CUT_EXTRUDE12_DEPTH, mode=Mode.SUBTRACT)

    # Fillet1
    fillet1_edges = [part.edges().sort_by_distance(p)[0] for p in [
        (-132.59943, 65.2907, -1.5875),
        (-132.59943, 93.8657, -1.5875),
        (-119.26443, 93.8657, -1.5875),
        (-119.26443, 65.2907, -1.5875),
    ]]
    fillet(fillet1_edges, radius=FILLET1_R)

    # Ø8.0mm Dowel Hole1 (through all)
    with Locations(Plane(origin=(0, 0, -3.175), x_dir=(-1, 0, 0), z_dir=(0, 0, -1))):
        with Locations((12.26693, 3.61442), (12.26693, 29.01442)):
            Hole(F_8_0MM_DOWEL_HOLE1_D / 2)

    # Sketch39 → M3 Clearance Hole4 (revolve, cut)
    with BuildSketch(Plane(origin=(-105.23093, 45.65142, 0), x_dir=(0, -1, 0), z_dir=(1, 0, 0))):
        Polygon((0, 0), (0, 3.175), (2.85, 3.175), (1.7, 2.025), (1.7, 0), align=None)
    m3_clearance_hole4 = revolve(axis=Axis((-105.23093, 45.65142, 6.35), (0, 0, -1)), mode=Mode.SUBTRACT)

    # M3 Clearance Hole4 at 2: M3 Clearance Hole4 ×2
    with Locations(*[(i * M3_CLEARANCE_HOLE4_AT_2_PITCH, 0, 0) for i in range(1, M3_CLEARANCE_HOLE4_AT_2_COUNT)]):
        add(m3_clearance_hole4, mode=Mode.SUBTRACT)

    # M3 Clearance Hole4 at 3: M3 Clearance Hole4 ×2
    with Locations(*[Vector(0.8039043979705941, -0.5947585383359678, 0) * (i * M3_CLEARANCE_HOLE4_AT_3_PITCH) for i in range(1, M3_CLEARANCE_HOLE4_AT_3_COUNT)]):
        add(m3_clearance_hole4, mode=Mode.SUBTRACT)

    # M3 Clearance Hole4 at 4: M3 Clearance Hole4 ×2
    with Locations(*[(0, -i * M3_CLEARANCE_HOLE4_AT_4_PITCH, 0) for i in range(1, M3_CLEARANCE_HOLE4_AT_4_COUNT)]):
        add(m3_clearance_hole4, mode=Mode.SUBTRACT)


solid = part.part
